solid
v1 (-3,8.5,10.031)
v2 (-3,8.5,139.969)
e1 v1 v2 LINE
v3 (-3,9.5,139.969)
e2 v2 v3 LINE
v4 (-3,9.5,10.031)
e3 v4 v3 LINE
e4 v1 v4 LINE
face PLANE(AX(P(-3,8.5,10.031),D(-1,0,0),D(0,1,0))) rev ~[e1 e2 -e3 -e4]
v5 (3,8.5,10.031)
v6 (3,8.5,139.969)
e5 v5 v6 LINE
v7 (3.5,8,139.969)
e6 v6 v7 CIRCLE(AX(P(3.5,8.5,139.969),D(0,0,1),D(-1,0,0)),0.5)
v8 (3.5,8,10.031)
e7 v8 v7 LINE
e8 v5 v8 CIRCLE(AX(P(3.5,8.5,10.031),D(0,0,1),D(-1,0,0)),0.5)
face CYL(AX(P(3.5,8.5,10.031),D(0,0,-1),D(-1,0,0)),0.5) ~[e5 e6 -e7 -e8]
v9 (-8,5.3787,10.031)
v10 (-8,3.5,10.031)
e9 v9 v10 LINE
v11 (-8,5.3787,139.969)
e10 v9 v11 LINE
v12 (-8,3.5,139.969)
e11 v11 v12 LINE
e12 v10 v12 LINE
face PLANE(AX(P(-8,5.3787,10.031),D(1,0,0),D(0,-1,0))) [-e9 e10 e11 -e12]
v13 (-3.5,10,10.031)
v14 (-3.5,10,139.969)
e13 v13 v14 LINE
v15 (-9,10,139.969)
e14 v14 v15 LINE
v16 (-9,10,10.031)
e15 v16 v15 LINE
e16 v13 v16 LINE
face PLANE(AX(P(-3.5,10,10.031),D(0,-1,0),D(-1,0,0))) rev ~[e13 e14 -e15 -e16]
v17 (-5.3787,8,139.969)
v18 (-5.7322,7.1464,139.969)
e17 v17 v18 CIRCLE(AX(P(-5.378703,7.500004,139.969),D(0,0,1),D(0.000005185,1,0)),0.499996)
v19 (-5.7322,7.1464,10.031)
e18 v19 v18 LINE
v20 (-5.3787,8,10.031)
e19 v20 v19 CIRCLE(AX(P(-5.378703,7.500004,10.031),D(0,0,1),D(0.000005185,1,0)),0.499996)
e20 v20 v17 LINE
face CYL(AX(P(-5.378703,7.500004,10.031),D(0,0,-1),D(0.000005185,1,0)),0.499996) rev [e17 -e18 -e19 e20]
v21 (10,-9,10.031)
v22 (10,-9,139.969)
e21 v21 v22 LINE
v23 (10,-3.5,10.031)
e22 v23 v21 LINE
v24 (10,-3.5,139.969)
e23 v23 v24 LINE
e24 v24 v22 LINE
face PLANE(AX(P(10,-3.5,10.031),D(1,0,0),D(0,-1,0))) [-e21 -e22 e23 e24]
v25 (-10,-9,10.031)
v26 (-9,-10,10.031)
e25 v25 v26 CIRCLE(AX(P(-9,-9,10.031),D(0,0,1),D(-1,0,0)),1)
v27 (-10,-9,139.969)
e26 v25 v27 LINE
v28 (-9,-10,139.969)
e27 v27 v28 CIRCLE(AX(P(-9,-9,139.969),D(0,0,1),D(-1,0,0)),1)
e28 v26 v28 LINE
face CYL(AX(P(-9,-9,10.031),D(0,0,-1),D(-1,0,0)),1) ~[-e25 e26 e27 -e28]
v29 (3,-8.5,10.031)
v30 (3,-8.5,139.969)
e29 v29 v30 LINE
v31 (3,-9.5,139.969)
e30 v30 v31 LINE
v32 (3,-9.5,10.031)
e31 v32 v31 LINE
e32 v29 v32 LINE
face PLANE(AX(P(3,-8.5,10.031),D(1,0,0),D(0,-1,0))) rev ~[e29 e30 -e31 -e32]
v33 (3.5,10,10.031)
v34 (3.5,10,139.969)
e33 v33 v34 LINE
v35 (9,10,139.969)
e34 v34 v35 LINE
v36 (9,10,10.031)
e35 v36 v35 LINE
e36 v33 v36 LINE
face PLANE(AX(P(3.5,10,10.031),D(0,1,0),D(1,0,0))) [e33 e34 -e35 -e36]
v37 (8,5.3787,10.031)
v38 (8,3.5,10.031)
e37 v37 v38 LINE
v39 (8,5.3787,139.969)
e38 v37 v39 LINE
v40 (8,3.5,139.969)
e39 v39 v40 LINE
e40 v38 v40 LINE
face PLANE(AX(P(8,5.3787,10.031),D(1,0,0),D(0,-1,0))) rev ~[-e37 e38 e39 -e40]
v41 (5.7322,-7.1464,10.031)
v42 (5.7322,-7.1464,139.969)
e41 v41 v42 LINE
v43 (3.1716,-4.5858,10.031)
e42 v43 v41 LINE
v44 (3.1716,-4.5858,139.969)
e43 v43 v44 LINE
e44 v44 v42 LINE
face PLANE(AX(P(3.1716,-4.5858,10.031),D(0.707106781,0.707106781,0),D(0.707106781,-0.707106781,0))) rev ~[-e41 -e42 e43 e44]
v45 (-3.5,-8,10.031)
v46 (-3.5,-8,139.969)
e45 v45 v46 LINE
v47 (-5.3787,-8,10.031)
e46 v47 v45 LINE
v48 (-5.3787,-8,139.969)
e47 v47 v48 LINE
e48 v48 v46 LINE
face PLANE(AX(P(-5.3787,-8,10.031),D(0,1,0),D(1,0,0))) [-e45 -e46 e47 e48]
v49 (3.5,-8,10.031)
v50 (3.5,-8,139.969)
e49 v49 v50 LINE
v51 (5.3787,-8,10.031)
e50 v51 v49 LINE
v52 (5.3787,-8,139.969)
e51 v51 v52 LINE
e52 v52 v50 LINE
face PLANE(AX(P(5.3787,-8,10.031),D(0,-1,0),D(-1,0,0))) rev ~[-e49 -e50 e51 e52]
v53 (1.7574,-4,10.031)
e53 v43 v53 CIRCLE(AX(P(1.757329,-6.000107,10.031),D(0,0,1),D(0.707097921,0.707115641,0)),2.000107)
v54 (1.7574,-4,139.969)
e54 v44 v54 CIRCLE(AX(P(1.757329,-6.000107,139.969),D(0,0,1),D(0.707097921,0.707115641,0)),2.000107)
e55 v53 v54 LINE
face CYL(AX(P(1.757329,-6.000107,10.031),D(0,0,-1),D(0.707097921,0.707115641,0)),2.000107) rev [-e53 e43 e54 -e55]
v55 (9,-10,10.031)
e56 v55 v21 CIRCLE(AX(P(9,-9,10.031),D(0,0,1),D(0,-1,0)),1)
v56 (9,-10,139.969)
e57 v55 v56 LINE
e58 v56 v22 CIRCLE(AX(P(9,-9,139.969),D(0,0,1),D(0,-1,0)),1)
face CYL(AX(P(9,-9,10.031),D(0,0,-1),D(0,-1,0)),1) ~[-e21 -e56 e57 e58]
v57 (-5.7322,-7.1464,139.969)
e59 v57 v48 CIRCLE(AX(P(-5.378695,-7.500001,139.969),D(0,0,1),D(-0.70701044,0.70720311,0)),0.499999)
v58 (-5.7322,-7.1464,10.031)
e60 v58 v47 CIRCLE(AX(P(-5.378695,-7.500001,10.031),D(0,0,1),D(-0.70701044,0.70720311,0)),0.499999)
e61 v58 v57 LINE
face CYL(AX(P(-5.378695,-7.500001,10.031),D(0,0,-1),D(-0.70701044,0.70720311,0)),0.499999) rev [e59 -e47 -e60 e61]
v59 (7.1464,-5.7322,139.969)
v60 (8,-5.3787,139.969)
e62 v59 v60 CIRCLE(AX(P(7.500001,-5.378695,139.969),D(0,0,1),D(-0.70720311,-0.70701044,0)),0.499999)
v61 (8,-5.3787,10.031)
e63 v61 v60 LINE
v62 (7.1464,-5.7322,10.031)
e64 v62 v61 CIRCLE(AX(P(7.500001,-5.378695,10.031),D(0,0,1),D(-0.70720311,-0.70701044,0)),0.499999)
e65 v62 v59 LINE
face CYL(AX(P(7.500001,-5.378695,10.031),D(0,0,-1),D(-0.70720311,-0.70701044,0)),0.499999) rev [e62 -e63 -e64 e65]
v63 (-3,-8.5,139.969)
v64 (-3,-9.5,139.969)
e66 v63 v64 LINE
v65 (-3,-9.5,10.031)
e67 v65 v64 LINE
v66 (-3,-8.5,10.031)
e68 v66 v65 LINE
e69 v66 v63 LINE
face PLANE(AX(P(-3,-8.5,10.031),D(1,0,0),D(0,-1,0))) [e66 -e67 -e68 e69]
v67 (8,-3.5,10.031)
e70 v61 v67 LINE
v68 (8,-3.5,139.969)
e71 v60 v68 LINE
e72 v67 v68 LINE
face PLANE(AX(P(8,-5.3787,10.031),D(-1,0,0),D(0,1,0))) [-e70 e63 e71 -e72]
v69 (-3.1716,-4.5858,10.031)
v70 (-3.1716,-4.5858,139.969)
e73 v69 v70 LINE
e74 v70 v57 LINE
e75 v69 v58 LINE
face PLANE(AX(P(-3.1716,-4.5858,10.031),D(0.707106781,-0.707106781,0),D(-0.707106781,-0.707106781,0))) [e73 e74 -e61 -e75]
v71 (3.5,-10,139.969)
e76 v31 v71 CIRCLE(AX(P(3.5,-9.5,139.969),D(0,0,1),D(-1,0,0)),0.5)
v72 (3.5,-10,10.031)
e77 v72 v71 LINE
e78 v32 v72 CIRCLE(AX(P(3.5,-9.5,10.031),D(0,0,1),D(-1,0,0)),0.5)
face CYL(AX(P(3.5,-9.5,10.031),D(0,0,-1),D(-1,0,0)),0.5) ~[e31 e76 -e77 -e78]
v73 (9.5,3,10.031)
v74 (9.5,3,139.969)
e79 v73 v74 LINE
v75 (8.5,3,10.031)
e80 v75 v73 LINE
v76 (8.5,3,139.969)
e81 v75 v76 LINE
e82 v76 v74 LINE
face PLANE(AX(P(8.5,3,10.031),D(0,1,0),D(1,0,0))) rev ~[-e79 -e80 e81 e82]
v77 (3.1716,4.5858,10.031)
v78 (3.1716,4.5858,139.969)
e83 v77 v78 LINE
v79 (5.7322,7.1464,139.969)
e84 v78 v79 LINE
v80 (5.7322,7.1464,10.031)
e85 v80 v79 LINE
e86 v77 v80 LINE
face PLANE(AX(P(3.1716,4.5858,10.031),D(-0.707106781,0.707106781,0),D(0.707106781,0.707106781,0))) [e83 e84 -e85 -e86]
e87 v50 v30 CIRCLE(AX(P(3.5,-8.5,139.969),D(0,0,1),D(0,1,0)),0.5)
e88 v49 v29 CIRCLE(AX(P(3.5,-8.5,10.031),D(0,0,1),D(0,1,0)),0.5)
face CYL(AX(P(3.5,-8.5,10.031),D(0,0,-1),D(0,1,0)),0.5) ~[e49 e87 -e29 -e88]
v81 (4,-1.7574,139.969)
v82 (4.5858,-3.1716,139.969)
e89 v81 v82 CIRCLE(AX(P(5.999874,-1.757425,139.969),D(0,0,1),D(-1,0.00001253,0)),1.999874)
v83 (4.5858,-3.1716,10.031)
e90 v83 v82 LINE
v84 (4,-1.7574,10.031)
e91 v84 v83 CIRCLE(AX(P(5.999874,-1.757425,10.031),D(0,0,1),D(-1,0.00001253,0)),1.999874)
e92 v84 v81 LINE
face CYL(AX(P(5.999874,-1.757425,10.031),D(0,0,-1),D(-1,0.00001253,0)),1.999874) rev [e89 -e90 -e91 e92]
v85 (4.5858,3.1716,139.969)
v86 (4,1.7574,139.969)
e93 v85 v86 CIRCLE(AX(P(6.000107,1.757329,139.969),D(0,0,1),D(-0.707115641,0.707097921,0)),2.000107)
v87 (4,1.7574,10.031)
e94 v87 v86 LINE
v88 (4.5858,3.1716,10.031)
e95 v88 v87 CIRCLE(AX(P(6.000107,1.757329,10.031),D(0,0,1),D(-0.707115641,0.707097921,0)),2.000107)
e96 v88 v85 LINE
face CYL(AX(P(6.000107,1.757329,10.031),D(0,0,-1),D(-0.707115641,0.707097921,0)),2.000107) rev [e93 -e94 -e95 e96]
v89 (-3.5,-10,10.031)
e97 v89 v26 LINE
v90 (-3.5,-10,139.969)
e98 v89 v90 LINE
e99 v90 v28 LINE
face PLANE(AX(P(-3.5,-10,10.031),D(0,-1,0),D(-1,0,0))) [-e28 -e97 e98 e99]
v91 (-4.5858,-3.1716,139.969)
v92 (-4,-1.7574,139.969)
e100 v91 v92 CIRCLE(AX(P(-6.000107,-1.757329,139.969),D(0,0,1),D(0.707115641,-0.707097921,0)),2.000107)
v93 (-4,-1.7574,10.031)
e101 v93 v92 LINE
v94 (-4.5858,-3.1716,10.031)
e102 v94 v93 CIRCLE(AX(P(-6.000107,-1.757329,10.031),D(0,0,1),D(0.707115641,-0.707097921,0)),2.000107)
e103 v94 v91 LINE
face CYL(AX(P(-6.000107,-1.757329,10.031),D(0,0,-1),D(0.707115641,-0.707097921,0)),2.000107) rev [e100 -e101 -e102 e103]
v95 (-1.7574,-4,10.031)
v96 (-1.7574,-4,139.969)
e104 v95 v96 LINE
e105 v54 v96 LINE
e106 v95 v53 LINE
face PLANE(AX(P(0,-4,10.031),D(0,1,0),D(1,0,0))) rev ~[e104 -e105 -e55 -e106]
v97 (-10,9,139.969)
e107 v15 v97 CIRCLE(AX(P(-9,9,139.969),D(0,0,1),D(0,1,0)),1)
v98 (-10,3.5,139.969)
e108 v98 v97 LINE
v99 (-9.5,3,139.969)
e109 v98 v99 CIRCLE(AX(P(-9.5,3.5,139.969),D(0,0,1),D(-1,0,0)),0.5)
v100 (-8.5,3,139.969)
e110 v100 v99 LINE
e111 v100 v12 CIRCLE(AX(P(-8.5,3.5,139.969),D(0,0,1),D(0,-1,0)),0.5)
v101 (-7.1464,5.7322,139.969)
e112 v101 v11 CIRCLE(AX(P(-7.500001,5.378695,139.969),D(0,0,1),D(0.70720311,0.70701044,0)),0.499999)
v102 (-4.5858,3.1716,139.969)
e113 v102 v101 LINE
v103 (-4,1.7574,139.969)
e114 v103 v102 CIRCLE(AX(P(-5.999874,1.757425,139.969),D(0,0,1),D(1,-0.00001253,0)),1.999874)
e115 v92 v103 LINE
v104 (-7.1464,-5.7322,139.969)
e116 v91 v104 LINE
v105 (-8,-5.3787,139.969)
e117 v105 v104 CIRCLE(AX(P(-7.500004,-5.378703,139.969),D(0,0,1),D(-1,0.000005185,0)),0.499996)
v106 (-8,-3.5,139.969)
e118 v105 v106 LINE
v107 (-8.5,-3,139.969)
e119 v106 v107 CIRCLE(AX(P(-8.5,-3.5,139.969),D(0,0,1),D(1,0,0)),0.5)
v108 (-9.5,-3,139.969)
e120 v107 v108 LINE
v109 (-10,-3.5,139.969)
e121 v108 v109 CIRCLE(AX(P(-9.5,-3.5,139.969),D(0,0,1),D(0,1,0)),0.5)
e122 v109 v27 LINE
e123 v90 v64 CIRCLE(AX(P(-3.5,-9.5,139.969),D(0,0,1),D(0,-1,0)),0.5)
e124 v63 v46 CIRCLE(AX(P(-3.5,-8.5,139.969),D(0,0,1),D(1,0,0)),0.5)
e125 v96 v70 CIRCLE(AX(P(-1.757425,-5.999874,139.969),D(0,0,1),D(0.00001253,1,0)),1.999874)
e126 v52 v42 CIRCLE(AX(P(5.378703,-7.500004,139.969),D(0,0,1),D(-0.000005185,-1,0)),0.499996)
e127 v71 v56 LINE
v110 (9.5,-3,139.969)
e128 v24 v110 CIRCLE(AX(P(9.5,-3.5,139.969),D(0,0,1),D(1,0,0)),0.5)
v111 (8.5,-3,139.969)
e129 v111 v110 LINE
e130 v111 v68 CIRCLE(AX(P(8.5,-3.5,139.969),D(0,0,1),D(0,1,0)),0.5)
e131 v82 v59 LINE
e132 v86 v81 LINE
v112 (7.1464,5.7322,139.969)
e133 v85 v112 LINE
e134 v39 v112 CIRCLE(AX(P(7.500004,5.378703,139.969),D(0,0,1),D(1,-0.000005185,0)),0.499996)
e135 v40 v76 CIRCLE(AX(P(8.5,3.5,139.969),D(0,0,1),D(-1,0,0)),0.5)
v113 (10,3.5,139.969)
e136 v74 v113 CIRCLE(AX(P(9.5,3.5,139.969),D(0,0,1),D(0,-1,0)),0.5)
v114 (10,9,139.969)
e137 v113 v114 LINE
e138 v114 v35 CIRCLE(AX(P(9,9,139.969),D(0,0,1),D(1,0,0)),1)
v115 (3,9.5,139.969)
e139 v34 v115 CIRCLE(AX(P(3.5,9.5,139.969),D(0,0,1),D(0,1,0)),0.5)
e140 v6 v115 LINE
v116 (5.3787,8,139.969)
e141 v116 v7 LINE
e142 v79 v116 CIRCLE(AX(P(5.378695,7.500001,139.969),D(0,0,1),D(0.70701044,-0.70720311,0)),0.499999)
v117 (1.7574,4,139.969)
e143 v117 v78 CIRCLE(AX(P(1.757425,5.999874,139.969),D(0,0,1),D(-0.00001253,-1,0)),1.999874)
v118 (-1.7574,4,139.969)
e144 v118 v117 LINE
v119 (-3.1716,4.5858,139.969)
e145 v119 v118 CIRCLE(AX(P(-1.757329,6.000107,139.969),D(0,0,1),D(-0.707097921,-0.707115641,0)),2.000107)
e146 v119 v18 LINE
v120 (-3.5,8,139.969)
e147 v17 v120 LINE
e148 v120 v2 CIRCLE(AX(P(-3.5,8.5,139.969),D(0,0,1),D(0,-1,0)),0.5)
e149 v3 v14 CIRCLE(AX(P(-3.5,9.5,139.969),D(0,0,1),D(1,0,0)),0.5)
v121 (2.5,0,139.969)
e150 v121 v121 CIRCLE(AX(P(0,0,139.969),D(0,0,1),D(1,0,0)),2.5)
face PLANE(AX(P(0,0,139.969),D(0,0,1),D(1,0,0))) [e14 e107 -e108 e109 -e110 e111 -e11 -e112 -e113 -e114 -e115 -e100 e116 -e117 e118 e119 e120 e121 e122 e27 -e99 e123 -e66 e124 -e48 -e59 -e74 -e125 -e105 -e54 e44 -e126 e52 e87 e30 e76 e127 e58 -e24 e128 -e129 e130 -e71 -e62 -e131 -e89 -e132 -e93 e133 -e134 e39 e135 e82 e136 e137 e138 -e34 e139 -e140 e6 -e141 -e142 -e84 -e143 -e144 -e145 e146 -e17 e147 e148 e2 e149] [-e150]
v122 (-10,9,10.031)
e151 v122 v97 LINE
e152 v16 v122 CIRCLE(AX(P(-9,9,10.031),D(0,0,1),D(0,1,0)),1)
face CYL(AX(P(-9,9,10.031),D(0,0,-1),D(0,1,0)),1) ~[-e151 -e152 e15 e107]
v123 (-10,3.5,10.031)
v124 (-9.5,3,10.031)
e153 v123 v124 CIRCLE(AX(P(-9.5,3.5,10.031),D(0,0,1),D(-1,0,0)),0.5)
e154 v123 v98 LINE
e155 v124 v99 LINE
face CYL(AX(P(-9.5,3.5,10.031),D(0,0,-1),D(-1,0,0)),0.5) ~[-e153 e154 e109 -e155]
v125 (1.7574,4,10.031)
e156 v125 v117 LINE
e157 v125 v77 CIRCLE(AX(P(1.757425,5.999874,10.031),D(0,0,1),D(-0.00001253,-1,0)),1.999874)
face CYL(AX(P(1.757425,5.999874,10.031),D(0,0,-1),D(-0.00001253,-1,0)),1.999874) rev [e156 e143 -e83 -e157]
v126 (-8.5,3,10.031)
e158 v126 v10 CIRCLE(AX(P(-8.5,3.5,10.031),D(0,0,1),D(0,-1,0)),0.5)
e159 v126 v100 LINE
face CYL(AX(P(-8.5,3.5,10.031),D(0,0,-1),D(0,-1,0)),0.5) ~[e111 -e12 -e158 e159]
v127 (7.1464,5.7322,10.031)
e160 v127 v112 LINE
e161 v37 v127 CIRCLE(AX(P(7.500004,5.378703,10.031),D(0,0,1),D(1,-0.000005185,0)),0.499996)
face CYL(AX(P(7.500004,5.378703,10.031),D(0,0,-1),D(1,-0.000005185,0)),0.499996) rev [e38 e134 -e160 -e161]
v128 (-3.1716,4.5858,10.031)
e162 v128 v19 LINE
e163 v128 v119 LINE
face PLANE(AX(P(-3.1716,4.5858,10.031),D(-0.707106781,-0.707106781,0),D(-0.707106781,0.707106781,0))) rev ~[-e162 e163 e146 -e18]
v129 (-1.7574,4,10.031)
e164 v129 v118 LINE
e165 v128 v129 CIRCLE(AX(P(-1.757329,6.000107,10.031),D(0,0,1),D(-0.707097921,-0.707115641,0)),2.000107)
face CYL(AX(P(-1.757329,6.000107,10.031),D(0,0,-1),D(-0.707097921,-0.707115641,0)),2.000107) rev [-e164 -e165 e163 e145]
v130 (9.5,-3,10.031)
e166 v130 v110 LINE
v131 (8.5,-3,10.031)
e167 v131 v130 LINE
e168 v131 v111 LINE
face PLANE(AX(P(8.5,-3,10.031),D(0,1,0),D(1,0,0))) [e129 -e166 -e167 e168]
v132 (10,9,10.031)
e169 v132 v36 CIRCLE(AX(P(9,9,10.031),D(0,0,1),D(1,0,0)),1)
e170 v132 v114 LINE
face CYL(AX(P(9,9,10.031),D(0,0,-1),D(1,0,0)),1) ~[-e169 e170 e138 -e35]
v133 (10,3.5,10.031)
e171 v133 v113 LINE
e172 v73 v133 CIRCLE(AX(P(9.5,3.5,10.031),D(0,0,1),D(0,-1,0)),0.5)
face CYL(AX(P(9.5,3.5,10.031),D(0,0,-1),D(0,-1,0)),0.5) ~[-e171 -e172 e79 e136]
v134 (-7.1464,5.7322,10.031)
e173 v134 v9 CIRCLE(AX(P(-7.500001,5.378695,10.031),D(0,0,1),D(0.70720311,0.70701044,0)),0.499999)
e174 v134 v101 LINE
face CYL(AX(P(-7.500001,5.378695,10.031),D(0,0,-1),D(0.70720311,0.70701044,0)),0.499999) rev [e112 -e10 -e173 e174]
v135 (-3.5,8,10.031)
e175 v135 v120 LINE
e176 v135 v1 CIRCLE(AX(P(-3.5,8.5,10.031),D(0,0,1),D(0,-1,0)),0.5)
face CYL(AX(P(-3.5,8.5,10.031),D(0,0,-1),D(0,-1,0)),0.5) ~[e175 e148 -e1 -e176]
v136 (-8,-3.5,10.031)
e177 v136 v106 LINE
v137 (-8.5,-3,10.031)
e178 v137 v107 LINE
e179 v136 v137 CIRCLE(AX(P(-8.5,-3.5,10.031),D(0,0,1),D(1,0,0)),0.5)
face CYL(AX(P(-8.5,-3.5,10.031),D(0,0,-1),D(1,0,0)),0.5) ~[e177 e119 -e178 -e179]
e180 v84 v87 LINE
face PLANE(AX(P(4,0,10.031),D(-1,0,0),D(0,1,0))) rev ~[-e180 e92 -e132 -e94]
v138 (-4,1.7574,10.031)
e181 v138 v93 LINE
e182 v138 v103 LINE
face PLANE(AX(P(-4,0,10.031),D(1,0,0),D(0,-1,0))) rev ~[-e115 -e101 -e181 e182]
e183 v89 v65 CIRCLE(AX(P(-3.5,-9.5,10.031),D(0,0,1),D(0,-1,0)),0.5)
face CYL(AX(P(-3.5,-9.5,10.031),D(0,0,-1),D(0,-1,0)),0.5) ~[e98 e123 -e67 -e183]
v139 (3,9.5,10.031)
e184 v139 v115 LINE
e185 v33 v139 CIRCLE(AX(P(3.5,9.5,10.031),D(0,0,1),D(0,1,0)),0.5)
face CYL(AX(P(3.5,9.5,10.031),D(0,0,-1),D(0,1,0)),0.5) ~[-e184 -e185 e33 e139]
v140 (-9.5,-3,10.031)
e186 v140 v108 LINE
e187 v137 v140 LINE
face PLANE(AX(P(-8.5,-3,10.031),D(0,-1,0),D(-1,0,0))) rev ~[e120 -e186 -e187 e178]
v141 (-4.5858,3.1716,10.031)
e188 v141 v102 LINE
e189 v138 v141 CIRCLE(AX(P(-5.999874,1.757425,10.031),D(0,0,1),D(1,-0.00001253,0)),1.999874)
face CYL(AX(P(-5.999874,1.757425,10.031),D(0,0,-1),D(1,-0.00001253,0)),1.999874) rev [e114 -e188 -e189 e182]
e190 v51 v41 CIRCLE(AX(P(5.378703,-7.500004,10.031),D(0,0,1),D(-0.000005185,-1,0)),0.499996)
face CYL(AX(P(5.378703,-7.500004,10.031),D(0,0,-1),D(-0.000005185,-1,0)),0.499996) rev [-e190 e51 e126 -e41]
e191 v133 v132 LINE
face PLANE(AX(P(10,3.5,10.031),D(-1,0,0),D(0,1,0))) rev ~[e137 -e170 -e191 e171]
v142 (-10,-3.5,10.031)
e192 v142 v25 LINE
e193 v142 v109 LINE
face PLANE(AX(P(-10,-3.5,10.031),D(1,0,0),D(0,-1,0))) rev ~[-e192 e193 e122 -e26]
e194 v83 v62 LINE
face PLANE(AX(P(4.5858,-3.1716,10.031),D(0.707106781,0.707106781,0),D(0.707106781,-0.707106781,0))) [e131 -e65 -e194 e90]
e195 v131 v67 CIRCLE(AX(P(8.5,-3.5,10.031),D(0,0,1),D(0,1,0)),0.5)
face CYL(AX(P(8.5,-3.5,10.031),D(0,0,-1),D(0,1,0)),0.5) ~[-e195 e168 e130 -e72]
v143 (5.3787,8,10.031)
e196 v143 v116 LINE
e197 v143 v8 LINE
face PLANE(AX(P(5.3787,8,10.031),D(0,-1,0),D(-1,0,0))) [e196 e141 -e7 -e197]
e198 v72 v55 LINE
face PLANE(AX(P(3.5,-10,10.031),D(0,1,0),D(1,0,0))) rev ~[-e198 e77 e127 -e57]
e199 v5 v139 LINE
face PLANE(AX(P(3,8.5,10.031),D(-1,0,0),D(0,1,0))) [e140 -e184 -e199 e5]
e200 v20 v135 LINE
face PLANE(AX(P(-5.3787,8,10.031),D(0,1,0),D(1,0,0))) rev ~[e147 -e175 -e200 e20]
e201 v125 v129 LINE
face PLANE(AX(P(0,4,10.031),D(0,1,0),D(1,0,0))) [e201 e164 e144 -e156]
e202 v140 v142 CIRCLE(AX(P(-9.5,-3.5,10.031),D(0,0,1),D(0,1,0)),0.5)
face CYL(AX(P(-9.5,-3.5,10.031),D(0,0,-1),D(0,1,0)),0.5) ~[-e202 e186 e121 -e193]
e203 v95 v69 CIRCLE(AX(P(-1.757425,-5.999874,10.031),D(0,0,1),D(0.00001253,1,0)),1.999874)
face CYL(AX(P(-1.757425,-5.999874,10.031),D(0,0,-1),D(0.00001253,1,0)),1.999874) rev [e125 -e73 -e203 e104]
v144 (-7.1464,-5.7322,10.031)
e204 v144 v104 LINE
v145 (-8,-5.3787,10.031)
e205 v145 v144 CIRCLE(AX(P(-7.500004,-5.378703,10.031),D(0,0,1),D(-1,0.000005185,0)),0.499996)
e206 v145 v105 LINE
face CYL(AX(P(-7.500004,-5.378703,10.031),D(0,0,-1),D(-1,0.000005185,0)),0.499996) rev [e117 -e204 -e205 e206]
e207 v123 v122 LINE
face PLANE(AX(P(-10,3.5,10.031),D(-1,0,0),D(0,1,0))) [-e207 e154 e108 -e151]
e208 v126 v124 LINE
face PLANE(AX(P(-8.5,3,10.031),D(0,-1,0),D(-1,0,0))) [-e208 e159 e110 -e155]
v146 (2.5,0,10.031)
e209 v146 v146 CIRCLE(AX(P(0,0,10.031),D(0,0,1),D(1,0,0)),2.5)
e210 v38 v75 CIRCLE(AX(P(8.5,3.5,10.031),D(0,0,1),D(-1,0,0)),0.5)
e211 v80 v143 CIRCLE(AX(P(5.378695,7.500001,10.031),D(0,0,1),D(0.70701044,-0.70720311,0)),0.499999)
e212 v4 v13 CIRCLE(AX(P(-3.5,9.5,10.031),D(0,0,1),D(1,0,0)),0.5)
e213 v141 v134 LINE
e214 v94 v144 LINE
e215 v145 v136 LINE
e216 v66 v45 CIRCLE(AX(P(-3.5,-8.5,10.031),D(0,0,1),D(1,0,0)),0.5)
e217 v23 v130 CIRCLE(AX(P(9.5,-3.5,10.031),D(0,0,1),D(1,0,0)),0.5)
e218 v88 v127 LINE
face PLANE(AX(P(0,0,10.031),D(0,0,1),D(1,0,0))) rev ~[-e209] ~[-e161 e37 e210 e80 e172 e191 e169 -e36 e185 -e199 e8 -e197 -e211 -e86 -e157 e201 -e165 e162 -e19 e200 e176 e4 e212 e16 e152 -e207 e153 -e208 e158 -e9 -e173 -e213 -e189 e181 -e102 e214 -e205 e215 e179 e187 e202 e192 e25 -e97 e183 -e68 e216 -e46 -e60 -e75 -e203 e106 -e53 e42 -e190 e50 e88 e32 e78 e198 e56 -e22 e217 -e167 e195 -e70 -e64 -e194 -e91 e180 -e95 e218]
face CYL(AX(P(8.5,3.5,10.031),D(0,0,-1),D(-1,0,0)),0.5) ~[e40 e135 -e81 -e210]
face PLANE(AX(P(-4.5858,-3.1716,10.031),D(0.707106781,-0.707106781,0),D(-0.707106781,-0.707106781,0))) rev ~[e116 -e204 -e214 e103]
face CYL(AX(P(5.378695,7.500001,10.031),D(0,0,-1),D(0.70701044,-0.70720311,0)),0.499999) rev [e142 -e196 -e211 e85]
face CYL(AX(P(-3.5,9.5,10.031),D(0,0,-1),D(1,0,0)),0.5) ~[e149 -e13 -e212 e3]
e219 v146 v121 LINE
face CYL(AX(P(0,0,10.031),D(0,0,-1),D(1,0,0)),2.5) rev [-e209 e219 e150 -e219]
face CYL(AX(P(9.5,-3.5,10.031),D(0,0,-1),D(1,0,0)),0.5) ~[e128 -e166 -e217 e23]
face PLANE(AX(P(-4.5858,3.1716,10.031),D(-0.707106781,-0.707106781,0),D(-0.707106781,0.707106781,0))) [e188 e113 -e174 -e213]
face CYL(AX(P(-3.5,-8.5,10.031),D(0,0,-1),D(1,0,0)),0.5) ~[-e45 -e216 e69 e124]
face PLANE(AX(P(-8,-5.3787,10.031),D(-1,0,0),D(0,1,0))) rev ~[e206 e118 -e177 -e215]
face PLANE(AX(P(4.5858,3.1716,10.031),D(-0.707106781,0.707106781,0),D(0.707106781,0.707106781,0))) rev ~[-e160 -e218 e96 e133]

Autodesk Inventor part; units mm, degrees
ref_plane "Start Plane" through (0, 0, 10.031) normal (0, 0, 1) x (1, 0, 0)
ref_plane "End Plane" through (0, 0, 139.969) normal (0, 0, 1) x (1, 0, 0)
sketch "Sketch" plane through (0, 0, 0) normal (0, 0, 1) x (1, 0, 0)
  line L0 (0, 0) -> (2.5, 0) construction
  line L1 (0, 0) -> (0, 2.5) construction
  line L2 (0, 4) -> (0, -4) construction
  line L3 (0, 4) -> (1.7574, 4)
  arc A0 (1.7574, 4) -> (3.1716, 4.5858) centre (1.7574, 6) ccw
  line L4 (3.1716, 4.5858) -> (5.7322, 7.1464)
  line L5 (-4, 0) -> (4, 0) construction
  line L6 (4, 0) -> (4, 1.7574)
  arc A1 (4.5858, 3.1716) -> (4, 1.7574) centre (6, 1.7574) ccw
  line L7 (4.5858, 3.1716) -> (7.1464, 5.7322)
  line L8 (0, 0) -> (10, 10) construction
  line L9 (0, 0) -> (19.6827, 0) construction
  arc A2 (8, 5.3787) -> (7.1464, 5.7322) centre (7.5, 5.3787) ccw
  line L10 (8, 5.3787) -> (8, 3.5)
  arc A3 (8, 3.5) -> (8.5, 3) centre (8.5, 3.5) ccw
  line L11 (8.5, 3) -> (9.5, 3)
  arc A4 (9.5, 3) -> (10, 3.5) centre (9.5, 3.5) ccw
  line L12 (10, 3.5) -> (10, 9)
  line L13 (10, 9) -> (10, 10) construction
  arc A5 (5.7322, 7.1464) -> (5.3787, 8) centre (5.3787, 7.5) ccw
  line L14 (5.3787, 8) -> (3.5, 8)
  arc A6 (3, 8.5) -> (3.5, 8) centre (3.5, 8.5) ccw
  line L15 (3, 8.5) -> (3, 9.5)
  arc A7 (3.5, 10) -> (3, 9.5) centre (3.5, 9.5) ccw
  line L16 (3.5, 10) -> (9, 10)
  arc A8 (10, 9) -> (9, 10) centre (9, 9) ccw
  line L17 (0, 4) -> (-1.7574, 4)
  arc A9 (-3.1716, 4.5858) -> (-1.7574, 4) centre (-1.7574, 6) ccw
  line L18 (-3.1716, 4.5858) -> (-5.7322, 7.1464)
  line L19 (-4, 0) -> (-4, 1.7574)
  arc A10 (-4, 1.7574) -> (-4.5858, 3.1716) centre (-6, 1.7574) ccw
  line L20 (-4.5858, 3.1716) -> (-7.1464, 5.7322)
  arc A11 (-7.1464, 5.7322) -> (-8, 5.3787) centre (-7.5, 5.3787) ccw
  line L21 (-8, 5.3787) -> (-8, 3.5)
  arc A12 (-8.5, 3) -> (-8, 3.5) centre (-8.5, 3.5) ccw
  line L22 (-8.5, 3) -> (-9.5, 3)
  arc A13 (-10, 3.5) -> (-9.5, 3) centre (-9.5, 3.5) ccw
  line L23 (-10, 3.5) -> (-10, 9)
  arc A14 (-5.3787, 8) -> (-5.7322, 7.1464) centre (-5.3787, 7.5) ccw
  line L24 (-5.3787, 8) -> (-3.5, 8)
  arc A15 (-3.5, 8) -> (-3, 8.5) centre (-3.5, 8.5) ccw
  line L25 (-3, 8.5) -> (-3, 9.5)
  arc A16 (-3, 9.5) -> (-3.5, 10) centre (-3.5, 9.5) ccw
  line L26 (-3.5, 10) -> (-9, 10)
  arc A17 (-9, 10) -> (-10, 9) centre (-9, 9) ccw
  line L27 (0, -4) -> (-1.7574, -4)
  arc A18 (-1.7574, -4) -> (-3.1716, -4.5858) centre (-1.7574, -6) ccw
  line L28 (-3.1716, -4.5858) -> (-5.7322, -7.1464)
  arc A19 (-5.7322, -7.1464) -> (-5.3787, -8) centre (-5.3787, -7.5) ccw
  line L29 (-5.3787, -8) -> (-3.5, -8)
  arc A20 (-3, -8.5) -> (-3.5, -8) centre (-3.5, -8.5) ccw
  line L30 (-3, -8.5) -> (-3, -9.5)
  arc A21 (-3.5, -10) -> (-3, -9.5) centre (-3.5, -9.5) ccw
  line L31 (-3.5, -10) -> (-9, -10)
  arc A22 (-10, -9) -> (-9, -10) centre (-9, -9) ccw
  line L32 (-10, -3.5) -> (-10, -9)
  arc A23 (-9.5, -3) -> (-10, -3.5) centre (-9.5, -3.5) ccw
  line L33 (-8.5, -3) -> (-9.5, -3)
  arc A24 (-8, -3.5) -> (-8.5, -3) centre (-8.5, -3.5) ccw
  line L34 (-8, -5.3787) -> (-8, -3.5)
  arc A25 (-8, -5.3787) -> (-7.1464, -5.7322) centre (-7.5, -5.3787) ccw
  line L35 (-4.5858, -3.1716) -> (-7.1464, -5.7322)
  arc A26 (-4.5858, -3.1716) -> (-4, -1.7574) centre (-6, -1.7574) ccw
  line L36 (-4, 0) -> (-4, -1.7574)
  line L37 (3.5, -10) -> (9, -10)
  arc A27 (9, -10) -> (10, -9) centre (9, -9) ccw
  line L38 (10, -3.5) -> (10, -9)
  arc A28 (10, -3.5) -> (9.5, -3) centre (9.5, -3.5) ccw
  line L39 (8.5, -3) -> (9.5, -3)
  arc A29 (8.5, -3) -> (8, -3.5) centre (8.5, -3.5) ccw
  line L40 (8, -5.3787) -> (8, -3.5)
  arc A30 (7.1464, -5.7322) -> (8, -5.3787) centre (7.5, -5.3787) ccw
  line L41 (4.5858, -3.1716) -> (7.1464, -5.7322)
  arc A31 (4, -1.7574) -> (4.5858, -3.1716) centre (6, -1.7574) ccw
  line L42 (4, 0) -> (4, -1.7574)
  line L43 (5.3787, -8) -> (3.5, -8)
  arc A32 (5.3787, -8) -> (5.7322, -7.1464) centre (5.3787, -7.5) ccw
  line L44 (3.1716, -4.5858) -> (5.7322, -7.1464)
  arc A33 (3.1716, -4.5858) -> (1.7574, -4) centre (1.7574, -6) ccw
  line L45 (0, -4) -> (1.7574, -4)
  arc A34 (3.5, -8) -> (3, -8.5) centre (3.5, -8.5) ccw
  line L46 (3, -8.5) -> (3, -9.5)
  arc A35 (3, -9.5) -> (3.5, -10) centre (3.5, -9.5) ccw
  circle A36 centre (0, 0) radius 2.5
  dimension "d1" = 8
  dimension "d2" = 2
  dimension "d3" = 8
  dimension "d4" = 2
  dimension "d5" = 2
  dimension "d7" = 45
  dimension "d8" = 0.5
  dimension "d9" = 0.5
  dimension "d10" = 0.5
  dimension "d12" = 2
  dimension "d17" = 7
  dimension "d18" = 10
  dimension "d19" = 0.5
  dimension "d20" = 1
  dimension "d21" = 0.5
  dimension "d22" = 0.5
  dimension "d23" = 2
  dimension "d24" = 7
  dimension "d25" = 5
extrude "Body" add sketch "Sketch" along normal up to surface (129.938 mm away) from surface at 10.031
sketch "Sketch6" plane through (0, 0, 0) normal (0, 0, 1) x (1, 0, 0)
  line L0 (0, 0) -> (10, 0)
ref_plane "Work Plane5" through (0, 0, 0) normal (0, -1, 0) x (1, 0, 0)
sketch "Sketch7" plane through (0, 0, 0) normal (0, -1, 0) x (1, 0, 0)
  line L0 (-2, 10.031) -> (12, 10.031)
  line L1 (-2, 139.969) -> (12, 139.969)
  dimension "d33" = 129.938
ref_plane "Work Plane6" through (-300, 9, 10.031) normal (0, 0, -1) x (-1, 0, 0)
split "Split1" plane through (-300, 9, 10.031) removes the side toward (0, 0, -1)
ref_plane "Work Plane7" through (200, 9, 139.969) normal (0, 0, 1) x (1, 0, 0)
split "Split2" plane through (200, 9, 139.969) removes the side toward (0, 0, 1)
equation "\"d1\" = 8 * sigma"
equation "\"d2\" = 2 * sigma"
equation "\"d3\" = 8 * sigma"
equation "\"d4\" = 2 * sigma"
equation "\"d5\" = 2 * sigma"
equation "\"d8\" = 0.5 * sigma"
equation "\"d9\" = 0.5 * sigma"
equation "\"d10\" = 0.5 * sigma"
equation "\"d12\" = 2 * sigma"
equation "\"d17\" = 7 * sigma"
equation "\"d18\" = sigma"
equation "\"d19\" = 0.5 * sigma"
equation "\"d20\" = sigma"
equation "\"d21\" = 0.5 * sigma"
equation "\"d22\" = 0.5 * sigma"
equation "\"d23\" = 2 * sigma"
equation "\"d24\" = 7 * sigma"
equation "\"d25\" = 5 * sigma"
equation "\"sigma\" = 1"
equation "\"G_OFFSET_START\" = -10.031"
equation "\"G_OFFSET_END\" = -10.031"
equation "\"d28\" = -G_OFFSET_START"
equation "\"d29\" = Length + G_OFFSET_END"
equation "\"G_L\" = d33"
equation "\"Length\" = 150"
properties part number "A3.3-MEM"
